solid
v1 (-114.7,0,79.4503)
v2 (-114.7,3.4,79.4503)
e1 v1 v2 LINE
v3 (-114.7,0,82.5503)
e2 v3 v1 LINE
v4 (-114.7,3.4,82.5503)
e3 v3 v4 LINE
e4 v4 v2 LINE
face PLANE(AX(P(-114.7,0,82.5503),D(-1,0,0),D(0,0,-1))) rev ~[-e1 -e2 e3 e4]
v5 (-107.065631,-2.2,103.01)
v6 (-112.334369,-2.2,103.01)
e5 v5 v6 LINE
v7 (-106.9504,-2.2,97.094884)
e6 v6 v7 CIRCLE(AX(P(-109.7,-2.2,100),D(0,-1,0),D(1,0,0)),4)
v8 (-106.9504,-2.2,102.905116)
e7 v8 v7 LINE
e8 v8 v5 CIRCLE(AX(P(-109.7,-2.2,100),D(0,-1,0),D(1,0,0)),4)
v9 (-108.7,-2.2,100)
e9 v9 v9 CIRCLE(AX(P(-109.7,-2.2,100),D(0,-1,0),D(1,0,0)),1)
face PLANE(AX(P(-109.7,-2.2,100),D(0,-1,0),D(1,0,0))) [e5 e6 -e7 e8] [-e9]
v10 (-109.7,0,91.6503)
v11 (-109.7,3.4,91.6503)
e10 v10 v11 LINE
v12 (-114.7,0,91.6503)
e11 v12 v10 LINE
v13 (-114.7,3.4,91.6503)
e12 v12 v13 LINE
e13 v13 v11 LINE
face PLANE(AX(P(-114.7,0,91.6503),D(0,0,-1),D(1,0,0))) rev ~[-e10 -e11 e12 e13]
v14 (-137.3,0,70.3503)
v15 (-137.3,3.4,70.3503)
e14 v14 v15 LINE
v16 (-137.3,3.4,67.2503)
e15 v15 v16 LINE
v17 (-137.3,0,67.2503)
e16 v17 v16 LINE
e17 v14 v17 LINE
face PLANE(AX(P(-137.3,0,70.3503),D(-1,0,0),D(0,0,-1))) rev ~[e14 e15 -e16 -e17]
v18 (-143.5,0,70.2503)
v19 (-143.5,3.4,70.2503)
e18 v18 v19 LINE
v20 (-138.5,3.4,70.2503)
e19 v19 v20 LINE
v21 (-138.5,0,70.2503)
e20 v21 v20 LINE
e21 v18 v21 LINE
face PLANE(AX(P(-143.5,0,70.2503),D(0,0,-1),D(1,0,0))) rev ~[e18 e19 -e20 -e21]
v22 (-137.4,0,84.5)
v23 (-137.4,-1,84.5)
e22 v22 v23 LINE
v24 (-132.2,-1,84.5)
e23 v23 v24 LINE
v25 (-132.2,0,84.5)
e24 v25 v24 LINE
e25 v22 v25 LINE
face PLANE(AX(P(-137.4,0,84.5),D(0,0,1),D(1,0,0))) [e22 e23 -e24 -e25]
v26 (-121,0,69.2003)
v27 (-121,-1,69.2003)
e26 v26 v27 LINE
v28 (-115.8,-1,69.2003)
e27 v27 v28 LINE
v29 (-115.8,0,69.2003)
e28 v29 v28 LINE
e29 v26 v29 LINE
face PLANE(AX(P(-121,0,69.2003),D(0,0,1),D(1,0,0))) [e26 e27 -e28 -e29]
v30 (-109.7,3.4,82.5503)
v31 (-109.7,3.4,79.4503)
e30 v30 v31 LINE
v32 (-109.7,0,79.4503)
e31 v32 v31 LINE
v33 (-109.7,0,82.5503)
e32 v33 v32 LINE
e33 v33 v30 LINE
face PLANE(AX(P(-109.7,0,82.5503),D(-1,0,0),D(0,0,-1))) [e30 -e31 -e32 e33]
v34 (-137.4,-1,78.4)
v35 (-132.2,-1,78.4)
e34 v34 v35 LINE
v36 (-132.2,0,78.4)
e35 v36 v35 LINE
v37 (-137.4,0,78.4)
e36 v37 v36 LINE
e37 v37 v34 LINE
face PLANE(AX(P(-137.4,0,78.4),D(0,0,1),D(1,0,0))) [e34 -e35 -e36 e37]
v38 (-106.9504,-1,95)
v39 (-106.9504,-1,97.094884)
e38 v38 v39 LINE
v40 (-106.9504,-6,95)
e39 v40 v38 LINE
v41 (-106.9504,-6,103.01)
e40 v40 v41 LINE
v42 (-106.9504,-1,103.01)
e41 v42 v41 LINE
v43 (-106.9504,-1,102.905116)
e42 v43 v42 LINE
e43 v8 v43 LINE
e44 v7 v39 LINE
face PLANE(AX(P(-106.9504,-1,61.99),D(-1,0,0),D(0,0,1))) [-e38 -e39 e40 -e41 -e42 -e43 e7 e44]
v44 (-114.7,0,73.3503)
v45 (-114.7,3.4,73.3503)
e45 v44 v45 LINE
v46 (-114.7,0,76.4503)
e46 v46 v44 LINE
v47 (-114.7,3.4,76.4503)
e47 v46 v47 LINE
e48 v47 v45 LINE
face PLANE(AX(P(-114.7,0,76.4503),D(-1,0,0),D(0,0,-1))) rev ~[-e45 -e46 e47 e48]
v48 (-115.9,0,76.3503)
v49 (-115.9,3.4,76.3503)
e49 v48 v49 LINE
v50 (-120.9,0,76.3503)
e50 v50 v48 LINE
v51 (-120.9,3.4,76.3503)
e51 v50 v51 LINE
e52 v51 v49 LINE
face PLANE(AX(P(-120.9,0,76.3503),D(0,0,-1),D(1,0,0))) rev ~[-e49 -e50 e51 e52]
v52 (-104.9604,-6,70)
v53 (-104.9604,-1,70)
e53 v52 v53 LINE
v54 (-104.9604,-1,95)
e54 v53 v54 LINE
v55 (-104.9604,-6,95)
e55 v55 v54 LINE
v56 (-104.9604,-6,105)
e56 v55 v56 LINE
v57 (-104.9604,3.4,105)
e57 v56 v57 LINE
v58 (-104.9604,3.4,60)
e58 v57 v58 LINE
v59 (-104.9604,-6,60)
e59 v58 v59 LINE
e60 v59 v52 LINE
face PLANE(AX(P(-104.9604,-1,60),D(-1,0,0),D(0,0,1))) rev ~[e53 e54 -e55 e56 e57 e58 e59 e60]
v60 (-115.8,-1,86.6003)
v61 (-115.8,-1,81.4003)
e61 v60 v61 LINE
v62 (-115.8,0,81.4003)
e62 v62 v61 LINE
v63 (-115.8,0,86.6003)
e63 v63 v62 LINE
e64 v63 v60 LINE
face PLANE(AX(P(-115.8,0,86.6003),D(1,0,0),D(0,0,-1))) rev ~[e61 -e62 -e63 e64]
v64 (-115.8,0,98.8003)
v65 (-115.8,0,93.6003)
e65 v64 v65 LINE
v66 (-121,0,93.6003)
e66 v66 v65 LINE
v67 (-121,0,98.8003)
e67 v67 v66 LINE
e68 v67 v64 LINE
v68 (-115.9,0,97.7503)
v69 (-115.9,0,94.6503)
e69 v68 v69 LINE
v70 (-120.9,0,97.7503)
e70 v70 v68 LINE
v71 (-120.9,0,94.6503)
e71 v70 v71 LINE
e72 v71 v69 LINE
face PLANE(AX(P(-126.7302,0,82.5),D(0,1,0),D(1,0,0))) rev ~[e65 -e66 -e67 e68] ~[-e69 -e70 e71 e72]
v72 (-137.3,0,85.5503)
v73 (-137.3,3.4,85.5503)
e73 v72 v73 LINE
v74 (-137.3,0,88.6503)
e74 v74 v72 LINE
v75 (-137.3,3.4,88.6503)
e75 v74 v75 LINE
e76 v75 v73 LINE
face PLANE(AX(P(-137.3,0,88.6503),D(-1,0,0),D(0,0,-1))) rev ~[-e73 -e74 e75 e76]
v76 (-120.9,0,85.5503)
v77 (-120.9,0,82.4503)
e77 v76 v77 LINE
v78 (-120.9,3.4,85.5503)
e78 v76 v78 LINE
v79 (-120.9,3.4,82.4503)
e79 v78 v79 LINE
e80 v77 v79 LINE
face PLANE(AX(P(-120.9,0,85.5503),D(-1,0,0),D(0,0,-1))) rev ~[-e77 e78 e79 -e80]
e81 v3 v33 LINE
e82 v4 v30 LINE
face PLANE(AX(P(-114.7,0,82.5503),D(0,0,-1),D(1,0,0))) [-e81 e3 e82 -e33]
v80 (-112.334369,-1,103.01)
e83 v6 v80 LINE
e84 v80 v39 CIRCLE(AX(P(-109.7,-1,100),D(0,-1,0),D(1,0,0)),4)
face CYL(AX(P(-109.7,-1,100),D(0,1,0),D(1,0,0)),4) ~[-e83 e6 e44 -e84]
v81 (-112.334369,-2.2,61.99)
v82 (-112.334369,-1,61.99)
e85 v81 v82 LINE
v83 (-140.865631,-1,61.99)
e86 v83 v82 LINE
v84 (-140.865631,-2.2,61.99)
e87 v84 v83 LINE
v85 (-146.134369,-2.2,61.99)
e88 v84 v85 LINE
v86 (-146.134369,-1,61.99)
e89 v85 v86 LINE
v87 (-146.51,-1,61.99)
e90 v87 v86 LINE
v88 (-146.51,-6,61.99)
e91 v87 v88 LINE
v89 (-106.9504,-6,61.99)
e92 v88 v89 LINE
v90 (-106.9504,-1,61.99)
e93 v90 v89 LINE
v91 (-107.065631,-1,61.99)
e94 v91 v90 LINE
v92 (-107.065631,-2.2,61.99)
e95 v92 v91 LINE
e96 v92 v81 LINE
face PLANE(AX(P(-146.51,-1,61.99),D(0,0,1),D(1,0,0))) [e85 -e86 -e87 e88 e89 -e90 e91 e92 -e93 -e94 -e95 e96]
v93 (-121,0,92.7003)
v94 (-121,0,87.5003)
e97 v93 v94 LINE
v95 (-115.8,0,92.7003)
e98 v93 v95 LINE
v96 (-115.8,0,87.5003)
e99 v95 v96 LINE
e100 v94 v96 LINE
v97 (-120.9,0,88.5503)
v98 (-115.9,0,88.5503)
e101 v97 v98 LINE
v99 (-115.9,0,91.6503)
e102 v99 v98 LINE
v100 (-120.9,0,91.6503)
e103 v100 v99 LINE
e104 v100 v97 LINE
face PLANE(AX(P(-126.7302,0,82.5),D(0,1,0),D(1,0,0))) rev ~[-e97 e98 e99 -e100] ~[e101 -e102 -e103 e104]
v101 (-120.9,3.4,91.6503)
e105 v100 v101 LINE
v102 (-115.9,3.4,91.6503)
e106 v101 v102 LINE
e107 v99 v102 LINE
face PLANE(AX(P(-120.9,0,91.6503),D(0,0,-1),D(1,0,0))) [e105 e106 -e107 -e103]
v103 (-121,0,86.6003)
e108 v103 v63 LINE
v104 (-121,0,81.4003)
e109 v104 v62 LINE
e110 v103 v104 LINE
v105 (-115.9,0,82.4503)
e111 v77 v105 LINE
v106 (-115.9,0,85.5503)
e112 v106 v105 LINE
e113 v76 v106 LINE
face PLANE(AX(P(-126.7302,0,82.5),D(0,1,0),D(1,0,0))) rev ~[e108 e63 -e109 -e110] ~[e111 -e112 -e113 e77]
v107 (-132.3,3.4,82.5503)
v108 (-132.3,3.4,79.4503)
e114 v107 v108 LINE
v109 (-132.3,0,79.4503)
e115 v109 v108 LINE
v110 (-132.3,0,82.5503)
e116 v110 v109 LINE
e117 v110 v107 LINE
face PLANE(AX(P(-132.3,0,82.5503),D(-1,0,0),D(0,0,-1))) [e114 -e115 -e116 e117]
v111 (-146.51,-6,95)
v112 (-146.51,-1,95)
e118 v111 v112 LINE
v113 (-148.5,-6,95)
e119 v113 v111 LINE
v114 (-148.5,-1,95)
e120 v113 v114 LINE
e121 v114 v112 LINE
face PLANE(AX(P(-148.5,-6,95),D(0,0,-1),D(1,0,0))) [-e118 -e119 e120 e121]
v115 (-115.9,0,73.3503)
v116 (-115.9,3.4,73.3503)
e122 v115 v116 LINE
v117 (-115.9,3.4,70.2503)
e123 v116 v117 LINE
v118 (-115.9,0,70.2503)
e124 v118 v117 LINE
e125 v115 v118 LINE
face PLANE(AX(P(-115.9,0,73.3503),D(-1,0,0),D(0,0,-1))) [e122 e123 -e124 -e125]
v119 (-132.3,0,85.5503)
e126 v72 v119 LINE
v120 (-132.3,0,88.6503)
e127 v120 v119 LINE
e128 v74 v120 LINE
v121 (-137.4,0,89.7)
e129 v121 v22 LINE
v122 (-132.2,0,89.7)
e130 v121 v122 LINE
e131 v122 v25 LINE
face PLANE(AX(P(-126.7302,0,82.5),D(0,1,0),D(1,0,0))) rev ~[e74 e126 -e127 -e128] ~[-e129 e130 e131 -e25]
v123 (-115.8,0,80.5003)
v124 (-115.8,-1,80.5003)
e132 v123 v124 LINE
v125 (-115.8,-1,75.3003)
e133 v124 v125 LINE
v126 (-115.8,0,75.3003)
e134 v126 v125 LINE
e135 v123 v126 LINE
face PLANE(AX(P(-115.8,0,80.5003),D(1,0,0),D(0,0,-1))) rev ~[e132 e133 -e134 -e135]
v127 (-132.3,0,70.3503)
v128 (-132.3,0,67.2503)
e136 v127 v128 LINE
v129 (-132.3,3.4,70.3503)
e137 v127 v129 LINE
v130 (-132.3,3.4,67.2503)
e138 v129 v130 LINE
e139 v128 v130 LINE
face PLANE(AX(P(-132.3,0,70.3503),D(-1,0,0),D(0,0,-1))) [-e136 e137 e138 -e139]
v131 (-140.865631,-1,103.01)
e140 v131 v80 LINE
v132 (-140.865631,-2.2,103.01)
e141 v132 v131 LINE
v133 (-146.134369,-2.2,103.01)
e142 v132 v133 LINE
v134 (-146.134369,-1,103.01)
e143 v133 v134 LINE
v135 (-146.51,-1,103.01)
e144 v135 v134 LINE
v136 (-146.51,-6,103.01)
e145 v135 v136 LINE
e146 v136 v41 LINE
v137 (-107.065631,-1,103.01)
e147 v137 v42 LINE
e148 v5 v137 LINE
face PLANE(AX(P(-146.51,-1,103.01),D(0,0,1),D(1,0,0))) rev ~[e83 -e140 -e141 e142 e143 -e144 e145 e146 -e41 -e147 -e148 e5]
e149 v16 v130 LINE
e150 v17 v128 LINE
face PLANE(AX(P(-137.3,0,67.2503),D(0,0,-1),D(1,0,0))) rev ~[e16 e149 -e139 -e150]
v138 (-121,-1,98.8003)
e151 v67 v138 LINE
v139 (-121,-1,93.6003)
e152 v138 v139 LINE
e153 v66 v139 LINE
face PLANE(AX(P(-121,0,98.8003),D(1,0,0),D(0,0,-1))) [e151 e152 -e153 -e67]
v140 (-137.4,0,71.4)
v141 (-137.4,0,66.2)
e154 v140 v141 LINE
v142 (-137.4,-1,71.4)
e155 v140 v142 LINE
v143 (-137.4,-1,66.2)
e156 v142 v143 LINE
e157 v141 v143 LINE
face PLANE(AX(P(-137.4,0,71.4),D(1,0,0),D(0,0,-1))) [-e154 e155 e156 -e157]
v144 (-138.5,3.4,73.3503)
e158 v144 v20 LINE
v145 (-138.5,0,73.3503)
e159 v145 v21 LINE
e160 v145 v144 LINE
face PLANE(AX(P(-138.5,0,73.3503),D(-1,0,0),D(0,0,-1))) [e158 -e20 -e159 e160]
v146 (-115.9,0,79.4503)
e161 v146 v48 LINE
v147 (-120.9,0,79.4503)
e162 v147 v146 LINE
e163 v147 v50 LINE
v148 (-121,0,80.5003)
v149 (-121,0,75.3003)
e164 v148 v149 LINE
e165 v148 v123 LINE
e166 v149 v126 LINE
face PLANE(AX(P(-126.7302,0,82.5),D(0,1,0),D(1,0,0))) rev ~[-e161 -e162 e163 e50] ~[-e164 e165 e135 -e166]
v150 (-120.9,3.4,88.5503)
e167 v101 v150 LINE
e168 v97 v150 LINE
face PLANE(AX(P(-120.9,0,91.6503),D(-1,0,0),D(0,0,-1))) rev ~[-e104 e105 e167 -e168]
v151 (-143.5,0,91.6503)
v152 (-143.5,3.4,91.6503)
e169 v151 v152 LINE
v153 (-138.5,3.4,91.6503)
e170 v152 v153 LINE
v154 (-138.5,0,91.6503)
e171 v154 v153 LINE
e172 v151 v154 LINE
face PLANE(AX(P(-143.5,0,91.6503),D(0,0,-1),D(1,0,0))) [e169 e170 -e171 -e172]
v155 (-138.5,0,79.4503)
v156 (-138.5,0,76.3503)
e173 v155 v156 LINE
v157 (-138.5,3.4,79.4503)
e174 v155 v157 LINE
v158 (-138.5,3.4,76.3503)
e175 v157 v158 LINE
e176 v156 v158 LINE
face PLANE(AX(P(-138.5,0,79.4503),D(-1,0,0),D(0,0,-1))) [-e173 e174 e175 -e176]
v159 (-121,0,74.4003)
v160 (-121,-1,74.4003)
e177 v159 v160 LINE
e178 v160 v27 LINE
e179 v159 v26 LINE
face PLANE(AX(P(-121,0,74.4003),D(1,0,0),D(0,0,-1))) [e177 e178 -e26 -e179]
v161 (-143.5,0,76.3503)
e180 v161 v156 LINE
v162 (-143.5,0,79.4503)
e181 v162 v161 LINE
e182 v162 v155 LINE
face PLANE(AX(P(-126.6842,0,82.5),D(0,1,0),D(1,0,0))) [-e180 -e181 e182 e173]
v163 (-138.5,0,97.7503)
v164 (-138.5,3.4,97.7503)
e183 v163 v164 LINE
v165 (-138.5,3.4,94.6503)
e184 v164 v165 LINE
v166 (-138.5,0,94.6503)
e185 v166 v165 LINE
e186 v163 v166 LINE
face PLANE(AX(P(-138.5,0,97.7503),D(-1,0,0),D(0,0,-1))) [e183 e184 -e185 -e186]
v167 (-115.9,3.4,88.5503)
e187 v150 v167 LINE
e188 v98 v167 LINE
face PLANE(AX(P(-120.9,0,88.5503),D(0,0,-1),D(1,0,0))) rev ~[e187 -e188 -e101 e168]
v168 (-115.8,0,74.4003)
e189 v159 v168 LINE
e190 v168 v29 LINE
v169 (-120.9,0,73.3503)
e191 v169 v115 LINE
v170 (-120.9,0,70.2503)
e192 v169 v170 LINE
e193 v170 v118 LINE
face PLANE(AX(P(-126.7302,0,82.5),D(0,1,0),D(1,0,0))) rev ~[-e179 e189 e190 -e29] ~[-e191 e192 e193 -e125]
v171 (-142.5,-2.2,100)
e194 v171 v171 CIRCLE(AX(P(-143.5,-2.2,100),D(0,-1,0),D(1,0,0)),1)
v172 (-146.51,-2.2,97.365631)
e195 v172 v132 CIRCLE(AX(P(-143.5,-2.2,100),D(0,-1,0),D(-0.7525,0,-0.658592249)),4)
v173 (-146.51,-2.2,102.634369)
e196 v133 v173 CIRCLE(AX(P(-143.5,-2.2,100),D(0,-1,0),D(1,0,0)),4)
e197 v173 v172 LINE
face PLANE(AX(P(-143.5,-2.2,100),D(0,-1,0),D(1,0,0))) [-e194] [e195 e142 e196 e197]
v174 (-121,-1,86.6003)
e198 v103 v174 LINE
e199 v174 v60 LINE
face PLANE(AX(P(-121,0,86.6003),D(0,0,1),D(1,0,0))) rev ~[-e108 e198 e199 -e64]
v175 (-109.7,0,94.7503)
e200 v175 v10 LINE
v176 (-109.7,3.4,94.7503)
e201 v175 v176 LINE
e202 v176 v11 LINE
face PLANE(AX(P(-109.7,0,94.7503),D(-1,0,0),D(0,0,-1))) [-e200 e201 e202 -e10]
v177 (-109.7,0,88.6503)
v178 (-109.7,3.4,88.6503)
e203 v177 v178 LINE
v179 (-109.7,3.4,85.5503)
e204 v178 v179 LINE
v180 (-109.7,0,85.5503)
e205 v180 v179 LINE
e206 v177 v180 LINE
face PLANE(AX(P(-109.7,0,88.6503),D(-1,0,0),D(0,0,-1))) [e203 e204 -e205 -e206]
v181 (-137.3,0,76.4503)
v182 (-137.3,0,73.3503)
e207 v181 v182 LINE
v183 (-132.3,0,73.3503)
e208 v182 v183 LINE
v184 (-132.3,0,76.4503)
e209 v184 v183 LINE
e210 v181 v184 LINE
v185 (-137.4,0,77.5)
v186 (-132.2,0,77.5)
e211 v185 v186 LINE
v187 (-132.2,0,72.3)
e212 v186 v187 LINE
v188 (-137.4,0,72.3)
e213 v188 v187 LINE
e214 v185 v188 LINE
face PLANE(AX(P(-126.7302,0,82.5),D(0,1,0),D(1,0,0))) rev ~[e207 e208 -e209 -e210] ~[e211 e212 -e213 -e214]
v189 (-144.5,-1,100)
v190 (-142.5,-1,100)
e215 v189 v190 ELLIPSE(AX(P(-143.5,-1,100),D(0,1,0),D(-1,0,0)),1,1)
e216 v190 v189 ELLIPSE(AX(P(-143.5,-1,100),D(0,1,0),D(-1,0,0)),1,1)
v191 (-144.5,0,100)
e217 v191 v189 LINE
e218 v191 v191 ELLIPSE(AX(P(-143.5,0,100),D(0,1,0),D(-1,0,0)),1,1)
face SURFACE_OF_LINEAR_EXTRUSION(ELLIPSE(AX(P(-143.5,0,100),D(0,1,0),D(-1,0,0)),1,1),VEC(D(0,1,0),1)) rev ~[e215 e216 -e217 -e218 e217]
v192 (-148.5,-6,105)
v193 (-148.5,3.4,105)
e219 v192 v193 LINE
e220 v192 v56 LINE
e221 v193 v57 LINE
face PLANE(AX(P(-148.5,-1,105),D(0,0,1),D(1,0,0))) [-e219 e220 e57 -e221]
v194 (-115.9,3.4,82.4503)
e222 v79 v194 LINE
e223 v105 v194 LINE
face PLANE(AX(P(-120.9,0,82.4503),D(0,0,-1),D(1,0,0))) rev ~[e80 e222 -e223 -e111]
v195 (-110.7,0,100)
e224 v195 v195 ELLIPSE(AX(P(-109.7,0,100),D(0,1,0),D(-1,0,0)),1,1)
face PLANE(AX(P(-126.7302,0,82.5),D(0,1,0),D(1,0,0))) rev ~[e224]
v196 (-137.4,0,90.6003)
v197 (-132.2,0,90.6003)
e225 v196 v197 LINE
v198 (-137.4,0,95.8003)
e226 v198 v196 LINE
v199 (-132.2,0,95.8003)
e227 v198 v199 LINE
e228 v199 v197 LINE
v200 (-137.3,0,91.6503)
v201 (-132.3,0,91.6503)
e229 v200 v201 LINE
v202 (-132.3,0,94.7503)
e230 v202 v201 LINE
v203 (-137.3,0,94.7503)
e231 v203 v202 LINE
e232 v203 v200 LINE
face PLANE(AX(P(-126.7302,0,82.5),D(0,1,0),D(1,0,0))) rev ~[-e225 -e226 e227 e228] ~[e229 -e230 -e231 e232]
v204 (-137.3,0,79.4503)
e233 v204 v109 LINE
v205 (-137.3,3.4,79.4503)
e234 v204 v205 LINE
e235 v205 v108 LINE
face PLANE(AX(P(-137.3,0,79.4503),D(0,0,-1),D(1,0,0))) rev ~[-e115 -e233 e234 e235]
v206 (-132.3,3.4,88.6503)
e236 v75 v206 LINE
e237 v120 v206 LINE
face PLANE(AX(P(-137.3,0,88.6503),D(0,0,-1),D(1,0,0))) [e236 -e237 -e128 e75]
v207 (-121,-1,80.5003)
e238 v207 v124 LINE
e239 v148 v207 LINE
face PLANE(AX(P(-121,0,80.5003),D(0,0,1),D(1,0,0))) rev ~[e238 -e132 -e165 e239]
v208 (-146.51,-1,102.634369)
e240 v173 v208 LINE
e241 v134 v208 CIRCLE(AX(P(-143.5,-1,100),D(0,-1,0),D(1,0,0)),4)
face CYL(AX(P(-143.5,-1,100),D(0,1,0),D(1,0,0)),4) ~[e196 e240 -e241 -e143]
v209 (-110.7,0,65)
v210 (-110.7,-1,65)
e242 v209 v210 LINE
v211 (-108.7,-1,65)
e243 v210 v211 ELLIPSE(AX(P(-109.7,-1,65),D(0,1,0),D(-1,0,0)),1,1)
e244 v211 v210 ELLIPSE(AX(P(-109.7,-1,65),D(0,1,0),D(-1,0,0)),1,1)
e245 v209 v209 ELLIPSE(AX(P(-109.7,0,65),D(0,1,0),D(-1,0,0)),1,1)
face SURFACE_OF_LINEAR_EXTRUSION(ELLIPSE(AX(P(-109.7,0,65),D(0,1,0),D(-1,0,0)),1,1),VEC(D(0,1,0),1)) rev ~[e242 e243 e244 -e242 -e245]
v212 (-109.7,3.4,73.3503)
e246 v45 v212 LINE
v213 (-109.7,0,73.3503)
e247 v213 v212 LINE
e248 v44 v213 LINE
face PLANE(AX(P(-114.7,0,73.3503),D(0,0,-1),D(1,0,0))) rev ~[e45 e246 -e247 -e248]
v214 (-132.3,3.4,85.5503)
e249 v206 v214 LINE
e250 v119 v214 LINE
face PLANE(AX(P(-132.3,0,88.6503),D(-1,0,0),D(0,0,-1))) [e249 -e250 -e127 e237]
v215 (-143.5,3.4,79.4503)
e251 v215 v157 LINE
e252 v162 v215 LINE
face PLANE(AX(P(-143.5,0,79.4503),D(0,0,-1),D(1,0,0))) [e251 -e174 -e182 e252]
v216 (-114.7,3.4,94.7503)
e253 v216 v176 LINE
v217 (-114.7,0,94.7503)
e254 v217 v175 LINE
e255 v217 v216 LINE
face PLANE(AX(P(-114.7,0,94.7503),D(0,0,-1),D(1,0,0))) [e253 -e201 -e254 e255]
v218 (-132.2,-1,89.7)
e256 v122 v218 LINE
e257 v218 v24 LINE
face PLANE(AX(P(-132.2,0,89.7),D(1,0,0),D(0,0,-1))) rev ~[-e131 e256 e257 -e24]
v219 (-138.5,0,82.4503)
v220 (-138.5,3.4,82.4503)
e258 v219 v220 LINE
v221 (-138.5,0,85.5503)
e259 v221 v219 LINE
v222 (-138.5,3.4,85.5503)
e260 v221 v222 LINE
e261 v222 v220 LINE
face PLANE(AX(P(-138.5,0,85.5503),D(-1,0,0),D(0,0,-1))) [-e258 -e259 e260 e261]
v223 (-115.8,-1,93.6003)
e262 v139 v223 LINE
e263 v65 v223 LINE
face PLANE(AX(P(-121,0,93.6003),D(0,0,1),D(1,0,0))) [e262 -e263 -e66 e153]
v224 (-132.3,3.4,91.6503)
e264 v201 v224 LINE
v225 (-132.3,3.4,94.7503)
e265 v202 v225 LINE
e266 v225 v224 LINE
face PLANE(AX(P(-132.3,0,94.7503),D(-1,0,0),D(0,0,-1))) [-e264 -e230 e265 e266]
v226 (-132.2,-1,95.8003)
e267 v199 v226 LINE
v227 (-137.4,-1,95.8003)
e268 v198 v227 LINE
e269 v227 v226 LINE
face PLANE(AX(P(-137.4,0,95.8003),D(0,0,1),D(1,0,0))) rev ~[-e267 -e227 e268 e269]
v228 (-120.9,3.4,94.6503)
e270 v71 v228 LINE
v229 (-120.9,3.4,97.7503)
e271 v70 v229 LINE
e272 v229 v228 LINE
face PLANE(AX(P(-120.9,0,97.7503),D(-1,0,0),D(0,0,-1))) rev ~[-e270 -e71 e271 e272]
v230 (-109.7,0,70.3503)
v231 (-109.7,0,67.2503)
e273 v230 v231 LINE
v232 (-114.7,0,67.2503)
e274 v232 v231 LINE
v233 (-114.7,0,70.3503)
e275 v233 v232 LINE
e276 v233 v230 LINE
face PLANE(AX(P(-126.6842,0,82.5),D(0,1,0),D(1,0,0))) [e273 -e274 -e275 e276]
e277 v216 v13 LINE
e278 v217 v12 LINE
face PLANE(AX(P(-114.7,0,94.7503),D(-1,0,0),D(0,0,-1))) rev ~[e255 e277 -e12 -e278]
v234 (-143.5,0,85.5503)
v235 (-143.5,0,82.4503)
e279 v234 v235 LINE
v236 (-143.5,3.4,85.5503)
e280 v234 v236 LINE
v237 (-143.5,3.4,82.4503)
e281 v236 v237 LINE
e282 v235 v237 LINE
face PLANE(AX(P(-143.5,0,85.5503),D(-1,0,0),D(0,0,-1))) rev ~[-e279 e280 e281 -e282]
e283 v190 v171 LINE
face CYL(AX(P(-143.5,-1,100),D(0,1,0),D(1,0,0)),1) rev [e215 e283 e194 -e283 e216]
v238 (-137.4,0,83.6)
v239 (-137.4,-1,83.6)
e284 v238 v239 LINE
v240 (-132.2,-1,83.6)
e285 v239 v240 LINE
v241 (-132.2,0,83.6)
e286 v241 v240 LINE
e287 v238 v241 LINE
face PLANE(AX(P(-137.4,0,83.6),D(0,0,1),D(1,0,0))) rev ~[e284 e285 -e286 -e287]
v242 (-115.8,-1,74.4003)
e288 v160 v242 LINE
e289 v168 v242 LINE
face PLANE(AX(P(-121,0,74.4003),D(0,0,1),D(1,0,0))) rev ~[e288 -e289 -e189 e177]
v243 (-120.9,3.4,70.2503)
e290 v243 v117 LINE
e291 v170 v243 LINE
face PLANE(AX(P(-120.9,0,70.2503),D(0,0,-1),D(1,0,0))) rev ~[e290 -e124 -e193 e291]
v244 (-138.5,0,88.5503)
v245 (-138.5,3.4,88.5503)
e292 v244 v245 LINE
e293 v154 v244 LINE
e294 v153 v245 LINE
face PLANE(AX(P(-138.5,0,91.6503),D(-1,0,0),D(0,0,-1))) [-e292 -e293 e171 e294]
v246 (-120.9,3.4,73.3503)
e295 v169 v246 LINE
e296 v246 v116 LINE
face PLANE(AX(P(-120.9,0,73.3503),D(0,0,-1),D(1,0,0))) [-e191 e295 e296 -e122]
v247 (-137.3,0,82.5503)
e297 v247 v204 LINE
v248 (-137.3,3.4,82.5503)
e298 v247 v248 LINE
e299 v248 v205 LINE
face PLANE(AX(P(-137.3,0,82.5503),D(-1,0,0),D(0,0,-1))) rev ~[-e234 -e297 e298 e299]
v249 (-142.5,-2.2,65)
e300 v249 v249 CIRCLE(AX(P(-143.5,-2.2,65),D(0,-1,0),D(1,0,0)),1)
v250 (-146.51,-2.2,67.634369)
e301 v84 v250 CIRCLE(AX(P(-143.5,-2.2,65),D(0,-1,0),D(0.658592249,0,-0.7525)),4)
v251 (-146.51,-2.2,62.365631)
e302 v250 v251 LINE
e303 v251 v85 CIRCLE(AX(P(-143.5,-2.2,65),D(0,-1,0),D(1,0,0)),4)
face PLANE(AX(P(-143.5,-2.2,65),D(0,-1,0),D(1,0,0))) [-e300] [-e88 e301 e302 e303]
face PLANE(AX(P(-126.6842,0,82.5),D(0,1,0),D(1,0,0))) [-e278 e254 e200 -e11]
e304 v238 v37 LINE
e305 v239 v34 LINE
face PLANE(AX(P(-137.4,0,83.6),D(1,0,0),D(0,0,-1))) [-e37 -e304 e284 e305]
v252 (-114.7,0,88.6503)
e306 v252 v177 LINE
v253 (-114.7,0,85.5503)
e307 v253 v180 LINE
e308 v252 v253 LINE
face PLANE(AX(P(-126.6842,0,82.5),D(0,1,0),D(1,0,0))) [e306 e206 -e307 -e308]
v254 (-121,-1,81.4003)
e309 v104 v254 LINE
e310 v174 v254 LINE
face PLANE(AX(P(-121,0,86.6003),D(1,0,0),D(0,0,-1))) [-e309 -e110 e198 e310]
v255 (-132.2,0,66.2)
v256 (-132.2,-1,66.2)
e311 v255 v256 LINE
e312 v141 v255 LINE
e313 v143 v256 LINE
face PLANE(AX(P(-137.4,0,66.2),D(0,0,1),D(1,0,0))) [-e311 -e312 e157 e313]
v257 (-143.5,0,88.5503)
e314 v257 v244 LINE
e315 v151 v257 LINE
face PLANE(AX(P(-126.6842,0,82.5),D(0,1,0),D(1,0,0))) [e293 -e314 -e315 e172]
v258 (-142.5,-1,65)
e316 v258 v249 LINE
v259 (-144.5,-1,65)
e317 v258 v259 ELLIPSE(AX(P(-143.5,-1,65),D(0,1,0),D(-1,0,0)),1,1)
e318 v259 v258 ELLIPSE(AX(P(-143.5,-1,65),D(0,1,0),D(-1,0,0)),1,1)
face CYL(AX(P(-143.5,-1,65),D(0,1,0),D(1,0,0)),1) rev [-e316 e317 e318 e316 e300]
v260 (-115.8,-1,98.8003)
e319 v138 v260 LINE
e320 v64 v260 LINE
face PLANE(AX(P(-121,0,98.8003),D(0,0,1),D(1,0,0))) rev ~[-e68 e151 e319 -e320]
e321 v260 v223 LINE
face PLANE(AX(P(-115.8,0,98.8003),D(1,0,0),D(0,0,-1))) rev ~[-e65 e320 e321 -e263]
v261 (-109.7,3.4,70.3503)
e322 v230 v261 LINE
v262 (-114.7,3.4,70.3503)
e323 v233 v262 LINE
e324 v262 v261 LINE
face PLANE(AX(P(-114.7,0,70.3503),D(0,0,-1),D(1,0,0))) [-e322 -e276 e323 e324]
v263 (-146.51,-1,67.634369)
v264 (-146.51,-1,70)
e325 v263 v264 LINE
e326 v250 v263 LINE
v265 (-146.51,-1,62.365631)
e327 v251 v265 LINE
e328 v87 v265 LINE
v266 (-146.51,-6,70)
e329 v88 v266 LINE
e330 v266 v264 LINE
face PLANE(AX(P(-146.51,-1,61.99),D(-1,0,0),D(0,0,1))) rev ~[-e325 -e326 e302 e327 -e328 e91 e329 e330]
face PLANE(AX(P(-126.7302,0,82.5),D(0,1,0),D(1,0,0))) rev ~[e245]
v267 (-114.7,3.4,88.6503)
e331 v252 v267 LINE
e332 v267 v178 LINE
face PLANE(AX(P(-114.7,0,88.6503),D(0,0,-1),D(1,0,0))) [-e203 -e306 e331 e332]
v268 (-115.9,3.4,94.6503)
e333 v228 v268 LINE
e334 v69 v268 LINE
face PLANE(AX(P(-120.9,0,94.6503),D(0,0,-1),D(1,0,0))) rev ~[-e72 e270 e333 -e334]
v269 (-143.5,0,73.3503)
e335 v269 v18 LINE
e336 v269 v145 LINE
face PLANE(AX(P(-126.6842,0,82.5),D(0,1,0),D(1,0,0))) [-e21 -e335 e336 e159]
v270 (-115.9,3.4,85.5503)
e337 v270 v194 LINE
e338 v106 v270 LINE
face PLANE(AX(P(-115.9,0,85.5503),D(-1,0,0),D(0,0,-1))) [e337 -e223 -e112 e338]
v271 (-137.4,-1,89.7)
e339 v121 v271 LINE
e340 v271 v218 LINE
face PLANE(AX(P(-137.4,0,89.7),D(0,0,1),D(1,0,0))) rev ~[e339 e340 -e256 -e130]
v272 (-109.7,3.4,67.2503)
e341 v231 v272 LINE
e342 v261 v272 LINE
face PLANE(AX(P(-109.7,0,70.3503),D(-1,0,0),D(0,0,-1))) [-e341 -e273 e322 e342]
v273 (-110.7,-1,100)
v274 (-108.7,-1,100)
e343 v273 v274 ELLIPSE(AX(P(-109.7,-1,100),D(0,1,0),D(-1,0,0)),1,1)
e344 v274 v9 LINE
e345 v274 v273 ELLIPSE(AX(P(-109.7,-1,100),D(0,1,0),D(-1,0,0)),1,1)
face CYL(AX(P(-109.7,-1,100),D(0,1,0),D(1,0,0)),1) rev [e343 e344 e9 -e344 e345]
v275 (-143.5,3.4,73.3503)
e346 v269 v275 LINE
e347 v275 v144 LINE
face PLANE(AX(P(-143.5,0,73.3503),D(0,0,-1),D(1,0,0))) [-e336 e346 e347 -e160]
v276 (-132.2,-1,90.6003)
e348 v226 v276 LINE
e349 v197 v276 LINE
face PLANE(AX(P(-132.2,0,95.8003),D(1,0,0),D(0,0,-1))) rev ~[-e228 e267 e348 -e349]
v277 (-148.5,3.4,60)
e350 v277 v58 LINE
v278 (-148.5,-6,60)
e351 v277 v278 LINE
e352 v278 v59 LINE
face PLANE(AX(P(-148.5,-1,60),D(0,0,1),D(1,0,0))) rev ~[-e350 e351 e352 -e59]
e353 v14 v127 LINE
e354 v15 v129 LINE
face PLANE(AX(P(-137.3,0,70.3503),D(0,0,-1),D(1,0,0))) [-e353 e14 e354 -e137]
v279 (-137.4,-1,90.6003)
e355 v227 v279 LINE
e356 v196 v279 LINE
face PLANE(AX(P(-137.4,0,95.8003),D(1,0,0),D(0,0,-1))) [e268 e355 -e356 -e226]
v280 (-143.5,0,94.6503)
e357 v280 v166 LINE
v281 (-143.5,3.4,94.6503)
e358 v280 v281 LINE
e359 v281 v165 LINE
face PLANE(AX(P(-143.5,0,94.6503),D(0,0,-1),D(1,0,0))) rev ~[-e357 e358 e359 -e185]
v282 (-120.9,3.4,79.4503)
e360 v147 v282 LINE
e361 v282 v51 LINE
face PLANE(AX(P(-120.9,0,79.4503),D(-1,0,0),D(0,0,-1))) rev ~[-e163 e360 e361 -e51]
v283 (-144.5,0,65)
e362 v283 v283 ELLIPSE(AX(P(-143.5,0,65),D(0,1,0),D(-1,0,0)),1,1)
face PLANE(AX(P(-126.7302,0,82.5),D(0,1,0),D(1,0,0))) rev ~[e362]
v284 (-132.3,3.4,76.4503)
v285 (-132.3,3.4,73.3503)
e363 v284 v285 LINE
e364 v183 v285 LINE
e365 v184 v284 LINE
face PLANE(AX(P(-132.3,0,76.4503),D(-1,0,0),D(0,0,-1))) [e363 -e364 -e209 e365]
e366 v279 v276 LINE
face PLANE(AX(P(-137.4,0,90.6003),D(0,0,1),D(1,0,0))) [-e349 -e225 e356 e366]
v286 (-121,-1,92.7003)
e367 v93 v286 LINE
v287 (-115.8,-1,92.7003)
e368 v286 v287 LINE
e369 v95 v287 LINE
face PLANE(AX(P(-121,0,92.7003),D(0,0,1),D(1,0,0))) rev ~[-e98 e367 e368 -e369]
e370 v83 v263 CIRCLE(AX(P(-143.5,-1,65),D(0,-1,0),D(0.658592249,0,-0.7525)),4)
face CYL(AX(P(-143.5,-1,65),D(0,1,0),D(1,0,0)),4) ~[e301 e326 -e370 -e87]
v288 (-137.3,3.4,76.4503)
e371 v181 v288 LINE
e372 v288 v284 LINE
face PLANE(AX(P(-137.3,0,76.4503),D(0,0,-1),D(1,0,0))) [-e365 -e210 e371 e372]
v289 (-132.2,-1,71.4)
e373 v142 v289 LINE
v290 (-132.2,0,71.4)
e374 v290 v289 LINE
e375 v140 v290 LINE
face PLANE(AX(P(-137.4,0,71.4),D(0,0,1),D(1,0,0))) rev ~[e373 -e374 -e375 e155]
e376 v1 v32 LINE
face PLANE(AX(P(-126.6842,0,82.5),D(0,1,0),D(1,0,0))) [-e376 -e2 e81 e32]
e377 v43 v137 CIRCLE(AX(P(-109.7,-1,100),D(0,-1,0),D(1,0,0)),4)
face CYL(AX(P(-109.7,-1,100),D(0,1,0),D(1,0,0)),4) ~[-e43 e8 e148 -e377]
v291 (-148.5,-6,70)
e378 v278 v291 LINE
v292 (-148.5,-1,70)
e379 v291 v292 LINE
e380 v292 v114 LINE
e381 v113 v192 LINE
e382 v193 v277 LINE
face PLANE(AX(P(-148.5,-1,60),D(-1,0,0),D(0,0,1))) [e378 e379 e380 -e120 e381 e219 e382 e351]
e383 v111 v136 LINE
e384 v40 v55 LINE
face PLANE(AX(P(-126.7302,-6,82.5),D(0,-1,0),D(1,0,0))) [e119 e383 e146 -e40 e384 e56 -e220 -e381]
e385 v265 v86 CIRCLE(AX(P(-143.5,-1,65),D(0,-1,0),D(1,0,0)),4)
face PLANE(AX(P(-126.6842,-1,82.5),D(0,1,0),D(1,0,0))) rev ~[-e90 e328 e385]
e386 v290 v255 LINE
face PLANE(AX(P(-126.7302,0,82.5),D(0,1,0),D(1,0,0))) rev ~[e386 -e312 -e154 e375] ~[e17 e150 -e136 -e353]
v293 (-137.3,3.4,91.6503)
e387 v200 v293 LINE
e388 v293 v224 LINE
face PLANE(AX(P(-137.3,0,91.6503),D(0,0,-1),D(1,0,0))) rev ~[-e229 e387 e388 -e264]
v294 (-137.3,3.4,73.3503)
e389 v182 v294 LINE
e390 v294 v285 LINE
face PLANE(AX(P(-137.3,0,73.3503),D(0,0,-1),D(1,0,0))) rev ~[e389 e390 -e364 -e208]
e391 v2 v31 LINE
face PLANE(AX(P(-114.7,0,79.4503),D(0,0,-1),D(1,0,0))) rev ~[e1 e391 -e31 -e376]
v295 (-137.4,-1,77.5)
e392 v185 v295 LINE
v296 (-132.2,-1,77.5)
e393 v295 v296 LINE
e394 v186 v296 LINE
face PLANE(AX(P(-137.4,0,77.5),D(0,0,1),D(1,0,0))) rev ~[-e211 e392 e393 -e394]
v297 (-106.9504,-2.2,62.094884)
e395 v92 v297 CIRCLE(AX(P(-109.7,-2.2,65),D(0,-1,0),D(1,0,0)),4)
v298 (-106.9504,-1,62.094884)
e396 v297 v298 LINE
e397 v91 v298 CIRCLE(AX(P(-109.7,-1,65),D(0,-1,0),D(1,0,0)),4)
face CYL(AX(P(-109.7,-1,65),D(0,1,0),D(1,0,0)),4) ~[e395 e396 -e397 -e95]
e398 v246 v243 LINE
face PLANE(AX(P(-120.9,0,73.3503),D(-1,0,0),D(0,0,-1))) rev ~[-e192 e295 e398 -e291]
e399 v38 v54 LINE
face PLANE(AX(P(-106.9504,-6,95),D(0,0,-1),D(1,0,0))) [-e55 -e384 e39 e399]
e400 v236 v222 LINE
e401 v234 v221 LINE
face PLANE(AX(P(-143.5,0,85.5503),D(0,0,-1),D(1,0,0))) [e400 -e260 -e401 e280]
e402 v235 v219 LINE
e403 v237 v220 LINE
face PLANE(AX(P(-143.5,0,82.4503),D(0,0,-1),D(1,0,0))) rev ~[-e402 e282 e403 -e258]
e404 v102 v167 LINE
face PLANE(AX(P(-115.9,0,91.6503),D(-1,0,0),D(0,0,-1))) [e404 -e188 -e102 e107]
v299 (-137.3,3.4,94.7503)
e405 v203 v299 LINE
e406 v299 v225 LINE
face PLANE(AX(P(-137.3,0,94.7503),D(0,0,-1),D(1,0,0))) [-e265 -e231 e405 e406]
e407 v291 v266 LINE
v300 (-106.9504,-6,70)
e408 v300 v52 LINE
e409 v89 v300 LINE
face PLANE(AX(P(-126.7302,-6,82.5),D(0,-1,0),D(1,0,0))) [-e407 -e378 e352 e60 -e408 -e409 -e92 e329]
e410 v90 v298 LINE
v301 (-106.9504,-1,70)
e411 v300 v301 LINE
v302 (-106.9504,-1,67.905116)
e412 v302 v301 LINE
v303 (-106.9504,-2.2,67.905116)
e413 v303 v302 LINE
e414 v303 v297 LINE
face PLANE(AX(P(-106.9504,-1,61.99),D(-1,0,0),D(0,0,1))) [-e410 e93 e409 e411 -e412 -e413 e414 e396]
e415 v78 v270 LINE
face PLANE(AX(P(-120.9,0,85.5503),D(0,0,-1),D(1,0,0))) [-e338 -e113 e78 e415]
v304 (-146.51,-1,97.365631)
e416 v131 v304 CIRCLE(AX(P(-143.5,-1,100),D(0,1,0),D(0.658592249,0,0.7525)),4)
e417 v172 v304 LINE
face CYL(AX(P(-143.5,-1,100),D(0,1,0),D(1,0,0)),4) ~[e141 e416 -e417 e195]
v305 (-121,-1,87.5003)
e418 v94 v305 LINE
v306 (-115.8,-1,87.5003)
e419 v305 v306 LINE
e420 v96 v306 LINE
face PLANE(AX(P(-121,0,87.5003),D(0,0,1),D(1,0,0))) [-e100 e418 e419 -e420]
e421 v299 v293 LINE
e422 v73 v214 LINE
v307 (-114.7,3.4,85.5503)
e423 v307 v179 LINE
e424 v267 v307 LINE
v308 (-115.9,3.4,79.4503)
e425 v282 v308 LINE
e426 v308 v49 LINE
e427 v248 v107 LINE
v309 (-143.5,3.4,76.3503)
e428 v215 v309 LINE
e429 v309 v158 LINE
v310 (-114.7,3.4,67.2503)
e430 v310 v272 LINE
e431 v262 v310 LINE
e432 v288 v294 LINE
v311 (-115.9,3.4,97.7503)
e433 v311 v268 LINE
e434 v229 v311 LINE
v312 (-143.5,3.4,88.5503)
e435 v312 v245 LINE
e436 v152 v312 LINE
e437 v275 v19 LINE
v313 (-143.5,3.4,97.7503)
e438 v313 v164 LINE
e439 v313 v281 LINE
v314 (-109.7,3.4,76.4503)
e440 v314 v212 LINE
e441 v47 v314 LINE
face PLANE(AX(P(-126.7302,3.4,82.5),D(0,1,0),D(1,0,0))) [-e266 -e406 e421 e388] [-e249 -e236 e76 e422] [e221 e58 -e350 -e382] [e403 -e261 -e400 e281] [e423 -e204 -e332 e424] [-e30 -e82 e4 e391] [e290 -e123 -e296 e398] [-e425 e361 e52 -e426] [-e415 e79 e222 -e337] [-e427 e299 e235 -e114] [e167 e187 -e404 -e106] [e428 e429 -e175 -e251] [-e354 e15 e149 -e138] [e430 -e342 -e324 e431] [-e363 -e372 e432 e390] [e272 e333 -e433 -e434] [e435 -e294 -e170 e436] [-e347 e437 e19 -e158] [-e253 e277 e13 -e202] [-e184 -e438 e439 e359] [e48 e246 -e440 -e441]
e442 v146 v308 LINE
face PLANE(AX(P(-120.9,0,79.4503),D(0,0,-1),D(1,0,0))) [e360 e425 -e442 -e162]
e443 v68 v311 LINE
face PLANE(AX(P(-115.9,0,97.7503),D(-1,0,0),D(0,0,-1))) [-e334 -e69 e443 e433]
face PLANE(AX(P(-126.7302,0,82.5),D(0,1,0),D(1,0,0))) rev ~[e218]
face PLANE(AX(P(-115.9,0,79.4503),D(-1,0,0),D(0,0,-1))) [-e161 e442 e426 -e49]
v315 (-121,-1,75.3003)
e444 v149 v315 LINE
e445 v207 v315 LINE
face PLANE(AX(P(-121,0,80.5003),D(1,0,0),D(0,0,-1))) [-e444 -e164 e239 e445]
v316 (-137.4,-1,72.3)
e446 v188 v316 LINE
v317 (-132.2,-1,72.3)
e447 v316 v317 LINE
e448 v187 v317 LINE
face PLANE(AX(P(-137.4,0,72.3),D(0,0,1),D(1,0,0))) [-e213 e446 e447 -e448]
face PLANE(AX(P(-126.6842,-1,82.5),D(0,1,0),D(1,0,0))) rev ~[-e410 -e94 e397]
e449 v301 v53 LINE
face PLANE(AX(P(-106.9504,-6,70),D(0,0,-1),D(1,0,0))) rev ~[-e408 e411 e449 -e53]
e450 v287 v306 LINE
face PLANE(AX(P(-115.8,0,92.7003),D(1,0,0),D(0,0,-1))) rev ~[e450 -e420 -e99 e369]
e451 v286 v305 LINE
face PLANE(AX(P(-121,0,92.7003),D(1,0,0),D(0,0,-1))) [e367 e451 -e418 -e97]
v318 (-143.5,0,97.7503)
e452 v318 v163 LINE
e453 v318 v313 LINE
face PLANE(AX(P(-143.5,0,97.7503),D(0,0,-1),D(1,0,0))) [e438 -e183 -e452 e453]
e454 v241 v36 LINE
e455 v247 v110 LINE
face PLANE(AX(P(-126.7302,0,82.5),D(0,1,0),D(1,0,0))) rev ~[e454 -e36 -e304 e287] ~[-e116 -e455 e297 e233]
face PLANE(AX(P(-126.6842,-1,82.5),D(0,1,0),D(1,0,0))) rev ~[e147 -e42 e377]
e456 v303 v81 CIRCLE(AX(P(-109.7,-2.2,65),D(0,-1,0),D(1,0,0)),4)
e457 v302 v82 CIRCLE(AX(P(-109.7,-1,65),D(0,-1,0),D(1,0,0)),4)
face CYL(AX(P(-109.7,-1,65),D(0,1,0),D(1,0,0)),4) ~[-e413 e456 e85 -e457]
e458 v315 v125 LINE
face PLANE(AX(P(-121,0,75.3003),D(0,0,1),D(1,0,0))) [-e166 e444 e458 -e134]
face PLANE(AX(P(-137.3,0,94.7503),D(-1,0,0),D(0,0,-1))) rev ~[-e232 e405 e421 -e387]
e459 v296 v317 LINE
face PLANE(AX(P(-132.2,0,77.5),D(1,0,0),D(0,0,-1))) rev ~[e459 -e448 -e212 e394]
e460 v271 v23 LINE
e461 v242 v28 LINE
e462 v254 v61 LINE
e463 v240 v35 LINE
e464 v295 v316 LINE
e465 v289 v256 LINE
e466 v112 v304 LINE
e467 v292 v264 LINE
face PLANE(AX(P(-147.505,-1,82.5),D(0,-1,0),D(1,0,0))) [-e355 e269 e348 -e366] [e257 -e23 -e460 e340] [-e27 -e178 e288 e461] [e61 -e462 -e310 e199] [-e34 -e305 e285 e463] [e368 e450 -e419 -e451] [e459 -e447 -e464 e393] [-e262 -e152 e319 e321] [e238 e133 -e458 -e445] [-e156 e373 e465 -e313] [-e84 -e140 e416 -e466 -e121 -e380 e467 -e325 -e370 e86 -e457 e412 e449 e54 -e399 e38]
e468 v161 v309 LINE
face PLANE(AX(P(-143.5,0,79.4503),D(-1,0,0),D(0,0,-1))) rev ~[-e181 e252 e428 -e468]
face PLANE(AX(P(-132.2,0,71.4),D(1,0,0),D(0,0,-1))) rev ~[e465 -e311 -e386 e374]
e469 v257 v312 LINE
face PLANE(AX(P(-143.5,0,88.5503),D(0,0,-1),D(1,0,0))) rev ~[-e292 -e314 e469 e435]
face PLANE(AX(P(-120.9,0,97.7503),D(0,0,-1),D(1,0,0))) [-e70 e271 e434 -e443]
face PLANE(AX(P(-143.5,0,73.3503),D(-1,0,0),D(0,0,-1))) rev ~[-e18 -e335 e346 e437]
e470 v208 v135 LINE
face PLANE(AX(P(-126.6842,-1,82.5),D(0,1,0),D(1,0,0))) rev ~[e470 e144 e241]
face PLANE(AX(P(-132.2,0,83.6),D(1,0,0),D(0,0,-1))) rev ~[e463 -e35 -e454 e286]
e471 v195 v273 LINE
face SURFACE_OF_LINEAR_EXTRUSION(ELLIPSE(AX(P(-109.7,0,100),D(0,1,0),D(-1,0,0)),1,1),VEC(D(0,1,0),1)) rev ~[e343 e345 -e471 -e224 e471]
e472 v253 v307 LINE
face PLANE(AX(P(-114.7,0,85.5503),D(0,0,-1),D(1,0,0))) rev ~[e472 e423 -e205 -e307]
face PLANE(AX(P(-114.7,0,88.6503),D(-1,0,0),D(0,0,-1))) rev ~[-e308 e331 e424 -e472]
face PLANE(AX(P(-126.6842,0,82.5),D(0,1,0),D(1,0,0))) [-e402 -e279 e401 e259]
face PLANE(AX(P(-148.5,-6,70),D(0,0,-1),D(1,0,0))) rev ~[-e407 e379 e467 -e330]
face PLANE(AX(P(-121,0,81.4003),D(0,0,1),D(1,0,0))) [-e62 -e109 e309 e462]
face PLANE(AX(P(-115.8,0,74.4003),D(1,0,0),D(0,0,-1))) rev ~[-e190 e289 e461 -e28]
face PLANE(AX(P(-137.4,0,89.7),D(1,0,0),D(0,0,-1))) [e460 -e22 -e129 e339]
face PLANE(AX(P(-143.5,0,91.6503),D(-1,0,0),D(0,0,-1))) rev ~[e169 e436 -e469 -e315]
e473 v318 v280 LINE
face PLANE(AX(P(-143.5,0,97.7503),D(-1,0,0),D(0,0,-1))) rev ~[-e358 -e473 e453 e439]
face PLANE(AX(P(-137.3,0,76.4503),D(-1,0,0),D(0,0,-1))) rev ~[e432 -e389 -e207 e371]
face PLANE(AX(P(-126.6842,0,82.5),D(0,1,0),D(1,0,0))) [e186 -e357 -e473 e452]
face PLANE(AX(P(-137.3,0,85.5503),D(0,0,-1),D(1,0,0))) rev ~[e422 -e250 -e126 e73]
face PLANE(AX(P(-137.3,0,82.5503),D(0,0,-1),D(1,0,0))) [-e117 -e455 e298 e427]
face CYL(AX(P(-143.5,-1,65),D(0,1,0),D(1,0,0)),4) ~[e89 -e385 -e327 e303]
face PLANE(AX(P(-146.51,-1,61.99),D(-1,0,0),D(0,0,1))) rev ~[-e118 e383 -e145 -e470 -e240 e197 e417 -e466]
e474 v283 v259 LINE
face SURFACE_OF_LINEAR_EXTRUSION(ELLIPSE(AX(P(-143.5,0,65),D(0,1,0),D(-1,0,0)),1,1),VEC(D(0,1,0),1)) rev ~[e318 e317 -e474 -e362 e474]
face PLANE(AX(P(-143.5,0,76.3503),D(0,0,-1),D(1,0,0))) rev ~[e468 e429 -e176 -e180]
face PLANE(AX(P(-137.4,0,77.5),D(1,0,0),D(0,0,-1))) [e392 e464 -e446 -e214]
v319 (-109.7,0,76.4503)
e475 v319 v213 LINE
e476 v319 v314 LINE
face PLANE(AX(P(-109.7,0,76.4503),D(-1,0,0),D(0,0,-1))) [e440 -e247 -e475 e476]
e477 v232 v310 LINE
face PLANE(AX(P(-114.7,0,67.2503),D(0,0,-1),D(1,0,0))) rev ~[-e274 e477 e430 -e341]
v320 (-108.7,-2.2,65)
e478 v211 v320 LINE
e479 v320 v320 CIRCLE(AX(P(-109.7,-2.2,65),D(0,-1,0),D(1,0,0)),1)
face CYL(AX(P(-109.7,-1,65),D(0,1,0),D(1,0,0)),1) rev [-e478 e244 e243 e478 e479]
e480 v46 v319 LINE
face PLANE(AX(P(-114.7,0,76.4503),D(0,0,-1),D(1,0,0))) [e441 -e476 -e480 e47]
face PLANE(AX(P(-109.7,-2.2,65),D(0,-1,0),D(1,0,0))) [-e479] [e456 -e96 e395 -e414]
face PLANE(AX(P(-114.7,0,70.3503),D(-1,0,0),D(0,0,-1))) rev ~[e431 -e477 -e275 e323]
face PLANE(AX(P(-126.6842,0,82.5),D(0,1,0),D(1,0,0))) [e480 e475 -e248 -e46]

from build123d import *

# Parameters (mm, degrees)
SKETCH_1_W          = 43.5396
SKETCH_1_H          = 45
SKETCH_1_W_2        = 5
SKETCH_1_H_2        = 3.1
EXTRUDE_1_DEPTH     = 3.4
SKETCH_2_W          = 43.6316
SKETCH_2_H          = 45
SKETCH_2_RX         = 1
SKETCH_2_RY         = 1
SKETCH_2_W_2        = 5.2
SKETCH_2_H_2        = 5.2
EXTRUDE_2_DEPTH     = 1
SKETCH_6_W          = 0.092
SKETCH_6_H          = 1
CUT_EXTRUDE_2_DEPTH = 46
SKETCH_3_R          = 4
SKETCH_3_R_2        = 1
EXTRUDE_3_DEPTH     = 1.2
SKETCH_4_W          = 43.5396
SKETCH_4_H          = 45
SKETCH_4_W_2        = 39.5596
SKETCH_4_H_2        = 41.02
EXTRUDE_4_DEPTH     = 5
SKETCH_5_W          = 1.99
SKETCH_5_H          = 25
CUT_EXTRUDE_1_DEPTH = 5


with BuildPart() as part:
    # Эскиз1 → Бобышка-Вытянуть1 (new body)
    with BuildSketch(Plane(origin=(0, 0, 0), x_dir=(1, 0, 0), z_dir=(0, 1, 0))):
        with Locations((-126.7302, -82.5)):
            Rectangle(SKETCH_1_W, SKETCH_1_H)
        with Locations((-141, -96.2003)):
            Rectangle(SKETCH_1_W_2, SKETCH_1_H_2, mode=Mode.SUBTRACT)
        with Locations((-118.4, -96.2003)):
            Rectangle(SKETCH_1_W_2, SKETCH_1_H_2, mode=Mode.SUBTRACT)
        with Locations((-112.2, -93.2003)):
            Rectangle(SKETCH_1_W_2, SKETCH_1_H_2, mode=Mode.SUBTRACT)
        with Locations((-134.8, -93.2003)):
            Rectangle(SKETCH_1_W_2, SKETCH_1_H_2, mode=Mode.SUBTRACT)
        with Locations((-112.2, -87.1003)):
            Rectangle(SKETCH_1_W_2, SKETCH_1_H_2, mode=Mode.SUBTRACT)
        with Locations((-134.8, -87.1003)):
            Rectangle(SKETCH_1_W_2, SKETCH_1_H_2, mode=Mode.SUBTRACT)
        with Locations((-141, -90.1003)):
            Rectangle(SKETCH_1_W_2, SKETCH_1_H_2, mode=Mode.SUBTRACT)
        with Locations((-118.4, -90.1003)):
            Rectangle(SKETCH_1_W_2, SKETCH_1_H_2, mode=Mode.SUBTRACT)
        with Locations((-112.2, -74.9003)):
            Rectangle(SKETCH_1_W_2, SKETCH_1_H_2, mode=Mode.SUBTRACT)
        with Locations((-134.8, -74.9003)):
            Rectangle(SKETCH_1_W_2, SKETCH_1_H_2, mode=Mode.SUBTRACT)
        with Locations((-141, -77.9003)):
            Rectangle(SKETCH_1_W_2, SKETCH_1_H_2, mode=Mode.SUBTRACT)
        with Locations((-118.4, -77.9003)):
            Rectangle(SKETCH_1_W_2, SKETCH_1_H_2, mode=Mode.SUBTRACT)
        with Locations((-141, -84.0003)):
            Rectangle(SKETCH_1_W_2, SKETCH_1_H_2, mode=Mode.SUBTRACT)
        with Locations((-118.4, -84.0003)):
            Rectangle(SKETCH_1_W_2, SKETCH_1_H_2, mode=Mode.SUBTRACT)
        with Locations((-112.2, -81.0003)):
            Rectangle(SKETCH_1_W_2, SKETCH_1_H_2, mode=Mode.SUBTRACT)
        with Locations((-134.8, -81.0003)):
            Rectangle(SKETCH_1_W_2, SKETCH_1_H_2, mode=Mode.SUBTRACT)
        with Locations((-141, -71.8003)):
            Rectangle(SKETCH_1_W_2, SKETCH_1_H_2, mode=Mode.SUBTRACT)
        with Locations((-118.4, -71.8003)):
            Rectangle(SKETCH_1_W_2, SKETCH_1_H_2, mode=Mode.SUBTRACT)
        with Locations((-112.2, -68.8003)):
            Rectangle(SKETCH_1_W_2, SKETCH_1_H_2, mode=Mode.SUBTRACT)
        with Locations((-134.8, -68.8003)):
            Rectangle(SKETCH_1_W_2, SKETCH_1_H_2, mode=Mode.SUBTRACT)
    extrude(amount=EXTRUDE_1_DEPTH)

    # Эскиз2 → Бобышка-Вытянуть2 (add)
    with BuildSketch(Plane(origin=(0, 0, 0), x_dir=(1, 0, 0), z_dir=(0, 1, 0))):
        with Locations((-126.6842, -82.5)):
            Rectangle(SKETCH_2_W, SKETCH_2_H)
        with Locations(Location((-143.5, -65), (0, 0, 180))):
            Ellipse(SKETCH_2_RX, SKETCH_2_RY, mode=Mode.SUBTRACT)
        with Locations(Location((-143.5, -100), (0, 0, 180))):
            Ellipse(SKETCH_2_RX, SKETCH_2_RY, mode=Mode.SUBTRACT)
        with Locations(Location((-109.7, -65), (0, 0, 180))):
            Ellipse(SKETCH_2_RX, SKETCH_2_RY, mode=Mode.SUBTRACT)
        with Locations(Location((-109.7, -100), (0, 0, 180))):
            Ellipse(SKETCH_2_RX, SKETCH_2_RY, mode=Mode.SUBTRACT)
        with Locations((-134.8, -68.8)):
            Rectangle(SKETCH_2_W_2, SKETCH_2_H_2, mode=Mode.SUBTRACT)
        with Locations((-134.8, -74.9)):
            Rectangle(SKETCH_2_W_2, SKETCH_2_H_2, mode=Mode.SUBTRACT)
        with Locations((-134.8, -81)):
            Rectangle(SKETCH_2_W_2, SKETCH_2_H_2, mode=Mode.SUBTRACT)
        with Locations((-134.8, -87.1)):
            Rectangle(SKETCH_2_W_2, SKETCH_2_H_2, mode=Mode.SUBTRACT)
        with Locations((-134.8, -93.2003)):
            Rectangle(SKETCH_2_W_2, SKETCH_2_H_2, mode=Mode.SUBTRACT)
        with Locations((-118.4, -71.8003)):
            Rectangle(SKETCH_2_W_2, SKETCH_2_H_2, mode=Mode.SUBTRACT)
        with Locations((-118.4, -77.9003)):
            Rectangle(SKETCH_2_W_2, SKETCH_2_H_2, mode=Mode.SUBTRACT)
        with Locations((-118.4, -84.0003)):
            Rectangle(SKETCH_2_W_2, SKETCH_2_H_2, mode=Mode.SUBTRACT)
        with Locations((-118.4, -90.1003)):
            Rectangle(SKETCH_2_W_2, SKETCH_2_H_2, mode=Mode.SUBTRACT)
        with Locations((-118.4, -96.2003)):
            Rectangle(SKETCH_2_W_2, SKETCH_2_H_2, mode=Mode.SUBTRACT)
    extrude(amount=-EXTRUDE_2_DEPTH)

    # Эскиз6 → Вырез-Вытянуть2 (cut, through all)
    with BuildSketch(Plane(origin=(0, 0, 60), x_dir=(-1, 0, 0), z_dir=(0, 0, -1))):
        with Locations((104.9144, -0.5)):
            Rectangle(SKETCH_6_W, SKETCH_6_H)
    extrude(amount=-CUT_EXTRUDE_2_DEPTH, mode=Mode.SUBTRACT)

    # Эскиз3 → Бобышка-Вытянуть3 (add)
    with BuildSketch(Plane.XZ.offset(1)):
        with Locations((-143.5, 100)):
            Circle(SKETCH_3_R)
        with Locations((-143.5, 100)):
            Circle(SKETCH_3_R_2, mode=Mode.SUBTRACT)
        with Locations((-109.7, 100)):
            Circle(SKETCH_3_R)
        with Locations((-109.7, 100)):
            Circle(SKETCH_3_R_2, mode=Mode.SUBTRACT)
        with Locations((-143.5, 65)):
            Circle(SKETCH_3_R)
        with Locations((-143.5, 65)):
            Circle(SKETCH_3_R_2, mode=Mode.SUBTRACT)
        with Locations((-109.7, 65)):
            Circle(SKETCH_3_R)
        with Locations((-109.7, 65)):
            Circle(SKETCH_3_R_2, mode=Mode.SUBTRACT)
    extrude(amount=EXTRUDE_3_DEPTH)

    # Эскиз4 → Бобышка-Вытянуть4 (add)
    with BuildSketch(Plane.XZ.offset(1)):
        with Locations((-126.7302, 82.5)):
            Rectangle(SKETCH_4_W, SKETCH_4_H)
        with Locations((-126.7302, 82.5)):
            Rectangle(SKETCH_4_W_2, SKETCH_4_H_2, mode=Mode.SUBTRACT)
    extrude(amount=EXTRUDE_4_DEPTH)

    # Эскиз5 → Вырез-Вытянуть1 (cut)
    with BuildSketch(Plane.XZ.offset(6)):
        with Locations((-147.505, 82.5)):
            Rectangle(SKETCH_5_W, SKETCH_5_H)
        with Locations((-105.9554, 82.5)):
            Rectangle(SKETCH_5_W, SKETCH_5_H)
    extrude(amount=-CUT_EXTRUDE_1_DEPTH, mode=Mode.SUBTRACT)


solid = part.part
